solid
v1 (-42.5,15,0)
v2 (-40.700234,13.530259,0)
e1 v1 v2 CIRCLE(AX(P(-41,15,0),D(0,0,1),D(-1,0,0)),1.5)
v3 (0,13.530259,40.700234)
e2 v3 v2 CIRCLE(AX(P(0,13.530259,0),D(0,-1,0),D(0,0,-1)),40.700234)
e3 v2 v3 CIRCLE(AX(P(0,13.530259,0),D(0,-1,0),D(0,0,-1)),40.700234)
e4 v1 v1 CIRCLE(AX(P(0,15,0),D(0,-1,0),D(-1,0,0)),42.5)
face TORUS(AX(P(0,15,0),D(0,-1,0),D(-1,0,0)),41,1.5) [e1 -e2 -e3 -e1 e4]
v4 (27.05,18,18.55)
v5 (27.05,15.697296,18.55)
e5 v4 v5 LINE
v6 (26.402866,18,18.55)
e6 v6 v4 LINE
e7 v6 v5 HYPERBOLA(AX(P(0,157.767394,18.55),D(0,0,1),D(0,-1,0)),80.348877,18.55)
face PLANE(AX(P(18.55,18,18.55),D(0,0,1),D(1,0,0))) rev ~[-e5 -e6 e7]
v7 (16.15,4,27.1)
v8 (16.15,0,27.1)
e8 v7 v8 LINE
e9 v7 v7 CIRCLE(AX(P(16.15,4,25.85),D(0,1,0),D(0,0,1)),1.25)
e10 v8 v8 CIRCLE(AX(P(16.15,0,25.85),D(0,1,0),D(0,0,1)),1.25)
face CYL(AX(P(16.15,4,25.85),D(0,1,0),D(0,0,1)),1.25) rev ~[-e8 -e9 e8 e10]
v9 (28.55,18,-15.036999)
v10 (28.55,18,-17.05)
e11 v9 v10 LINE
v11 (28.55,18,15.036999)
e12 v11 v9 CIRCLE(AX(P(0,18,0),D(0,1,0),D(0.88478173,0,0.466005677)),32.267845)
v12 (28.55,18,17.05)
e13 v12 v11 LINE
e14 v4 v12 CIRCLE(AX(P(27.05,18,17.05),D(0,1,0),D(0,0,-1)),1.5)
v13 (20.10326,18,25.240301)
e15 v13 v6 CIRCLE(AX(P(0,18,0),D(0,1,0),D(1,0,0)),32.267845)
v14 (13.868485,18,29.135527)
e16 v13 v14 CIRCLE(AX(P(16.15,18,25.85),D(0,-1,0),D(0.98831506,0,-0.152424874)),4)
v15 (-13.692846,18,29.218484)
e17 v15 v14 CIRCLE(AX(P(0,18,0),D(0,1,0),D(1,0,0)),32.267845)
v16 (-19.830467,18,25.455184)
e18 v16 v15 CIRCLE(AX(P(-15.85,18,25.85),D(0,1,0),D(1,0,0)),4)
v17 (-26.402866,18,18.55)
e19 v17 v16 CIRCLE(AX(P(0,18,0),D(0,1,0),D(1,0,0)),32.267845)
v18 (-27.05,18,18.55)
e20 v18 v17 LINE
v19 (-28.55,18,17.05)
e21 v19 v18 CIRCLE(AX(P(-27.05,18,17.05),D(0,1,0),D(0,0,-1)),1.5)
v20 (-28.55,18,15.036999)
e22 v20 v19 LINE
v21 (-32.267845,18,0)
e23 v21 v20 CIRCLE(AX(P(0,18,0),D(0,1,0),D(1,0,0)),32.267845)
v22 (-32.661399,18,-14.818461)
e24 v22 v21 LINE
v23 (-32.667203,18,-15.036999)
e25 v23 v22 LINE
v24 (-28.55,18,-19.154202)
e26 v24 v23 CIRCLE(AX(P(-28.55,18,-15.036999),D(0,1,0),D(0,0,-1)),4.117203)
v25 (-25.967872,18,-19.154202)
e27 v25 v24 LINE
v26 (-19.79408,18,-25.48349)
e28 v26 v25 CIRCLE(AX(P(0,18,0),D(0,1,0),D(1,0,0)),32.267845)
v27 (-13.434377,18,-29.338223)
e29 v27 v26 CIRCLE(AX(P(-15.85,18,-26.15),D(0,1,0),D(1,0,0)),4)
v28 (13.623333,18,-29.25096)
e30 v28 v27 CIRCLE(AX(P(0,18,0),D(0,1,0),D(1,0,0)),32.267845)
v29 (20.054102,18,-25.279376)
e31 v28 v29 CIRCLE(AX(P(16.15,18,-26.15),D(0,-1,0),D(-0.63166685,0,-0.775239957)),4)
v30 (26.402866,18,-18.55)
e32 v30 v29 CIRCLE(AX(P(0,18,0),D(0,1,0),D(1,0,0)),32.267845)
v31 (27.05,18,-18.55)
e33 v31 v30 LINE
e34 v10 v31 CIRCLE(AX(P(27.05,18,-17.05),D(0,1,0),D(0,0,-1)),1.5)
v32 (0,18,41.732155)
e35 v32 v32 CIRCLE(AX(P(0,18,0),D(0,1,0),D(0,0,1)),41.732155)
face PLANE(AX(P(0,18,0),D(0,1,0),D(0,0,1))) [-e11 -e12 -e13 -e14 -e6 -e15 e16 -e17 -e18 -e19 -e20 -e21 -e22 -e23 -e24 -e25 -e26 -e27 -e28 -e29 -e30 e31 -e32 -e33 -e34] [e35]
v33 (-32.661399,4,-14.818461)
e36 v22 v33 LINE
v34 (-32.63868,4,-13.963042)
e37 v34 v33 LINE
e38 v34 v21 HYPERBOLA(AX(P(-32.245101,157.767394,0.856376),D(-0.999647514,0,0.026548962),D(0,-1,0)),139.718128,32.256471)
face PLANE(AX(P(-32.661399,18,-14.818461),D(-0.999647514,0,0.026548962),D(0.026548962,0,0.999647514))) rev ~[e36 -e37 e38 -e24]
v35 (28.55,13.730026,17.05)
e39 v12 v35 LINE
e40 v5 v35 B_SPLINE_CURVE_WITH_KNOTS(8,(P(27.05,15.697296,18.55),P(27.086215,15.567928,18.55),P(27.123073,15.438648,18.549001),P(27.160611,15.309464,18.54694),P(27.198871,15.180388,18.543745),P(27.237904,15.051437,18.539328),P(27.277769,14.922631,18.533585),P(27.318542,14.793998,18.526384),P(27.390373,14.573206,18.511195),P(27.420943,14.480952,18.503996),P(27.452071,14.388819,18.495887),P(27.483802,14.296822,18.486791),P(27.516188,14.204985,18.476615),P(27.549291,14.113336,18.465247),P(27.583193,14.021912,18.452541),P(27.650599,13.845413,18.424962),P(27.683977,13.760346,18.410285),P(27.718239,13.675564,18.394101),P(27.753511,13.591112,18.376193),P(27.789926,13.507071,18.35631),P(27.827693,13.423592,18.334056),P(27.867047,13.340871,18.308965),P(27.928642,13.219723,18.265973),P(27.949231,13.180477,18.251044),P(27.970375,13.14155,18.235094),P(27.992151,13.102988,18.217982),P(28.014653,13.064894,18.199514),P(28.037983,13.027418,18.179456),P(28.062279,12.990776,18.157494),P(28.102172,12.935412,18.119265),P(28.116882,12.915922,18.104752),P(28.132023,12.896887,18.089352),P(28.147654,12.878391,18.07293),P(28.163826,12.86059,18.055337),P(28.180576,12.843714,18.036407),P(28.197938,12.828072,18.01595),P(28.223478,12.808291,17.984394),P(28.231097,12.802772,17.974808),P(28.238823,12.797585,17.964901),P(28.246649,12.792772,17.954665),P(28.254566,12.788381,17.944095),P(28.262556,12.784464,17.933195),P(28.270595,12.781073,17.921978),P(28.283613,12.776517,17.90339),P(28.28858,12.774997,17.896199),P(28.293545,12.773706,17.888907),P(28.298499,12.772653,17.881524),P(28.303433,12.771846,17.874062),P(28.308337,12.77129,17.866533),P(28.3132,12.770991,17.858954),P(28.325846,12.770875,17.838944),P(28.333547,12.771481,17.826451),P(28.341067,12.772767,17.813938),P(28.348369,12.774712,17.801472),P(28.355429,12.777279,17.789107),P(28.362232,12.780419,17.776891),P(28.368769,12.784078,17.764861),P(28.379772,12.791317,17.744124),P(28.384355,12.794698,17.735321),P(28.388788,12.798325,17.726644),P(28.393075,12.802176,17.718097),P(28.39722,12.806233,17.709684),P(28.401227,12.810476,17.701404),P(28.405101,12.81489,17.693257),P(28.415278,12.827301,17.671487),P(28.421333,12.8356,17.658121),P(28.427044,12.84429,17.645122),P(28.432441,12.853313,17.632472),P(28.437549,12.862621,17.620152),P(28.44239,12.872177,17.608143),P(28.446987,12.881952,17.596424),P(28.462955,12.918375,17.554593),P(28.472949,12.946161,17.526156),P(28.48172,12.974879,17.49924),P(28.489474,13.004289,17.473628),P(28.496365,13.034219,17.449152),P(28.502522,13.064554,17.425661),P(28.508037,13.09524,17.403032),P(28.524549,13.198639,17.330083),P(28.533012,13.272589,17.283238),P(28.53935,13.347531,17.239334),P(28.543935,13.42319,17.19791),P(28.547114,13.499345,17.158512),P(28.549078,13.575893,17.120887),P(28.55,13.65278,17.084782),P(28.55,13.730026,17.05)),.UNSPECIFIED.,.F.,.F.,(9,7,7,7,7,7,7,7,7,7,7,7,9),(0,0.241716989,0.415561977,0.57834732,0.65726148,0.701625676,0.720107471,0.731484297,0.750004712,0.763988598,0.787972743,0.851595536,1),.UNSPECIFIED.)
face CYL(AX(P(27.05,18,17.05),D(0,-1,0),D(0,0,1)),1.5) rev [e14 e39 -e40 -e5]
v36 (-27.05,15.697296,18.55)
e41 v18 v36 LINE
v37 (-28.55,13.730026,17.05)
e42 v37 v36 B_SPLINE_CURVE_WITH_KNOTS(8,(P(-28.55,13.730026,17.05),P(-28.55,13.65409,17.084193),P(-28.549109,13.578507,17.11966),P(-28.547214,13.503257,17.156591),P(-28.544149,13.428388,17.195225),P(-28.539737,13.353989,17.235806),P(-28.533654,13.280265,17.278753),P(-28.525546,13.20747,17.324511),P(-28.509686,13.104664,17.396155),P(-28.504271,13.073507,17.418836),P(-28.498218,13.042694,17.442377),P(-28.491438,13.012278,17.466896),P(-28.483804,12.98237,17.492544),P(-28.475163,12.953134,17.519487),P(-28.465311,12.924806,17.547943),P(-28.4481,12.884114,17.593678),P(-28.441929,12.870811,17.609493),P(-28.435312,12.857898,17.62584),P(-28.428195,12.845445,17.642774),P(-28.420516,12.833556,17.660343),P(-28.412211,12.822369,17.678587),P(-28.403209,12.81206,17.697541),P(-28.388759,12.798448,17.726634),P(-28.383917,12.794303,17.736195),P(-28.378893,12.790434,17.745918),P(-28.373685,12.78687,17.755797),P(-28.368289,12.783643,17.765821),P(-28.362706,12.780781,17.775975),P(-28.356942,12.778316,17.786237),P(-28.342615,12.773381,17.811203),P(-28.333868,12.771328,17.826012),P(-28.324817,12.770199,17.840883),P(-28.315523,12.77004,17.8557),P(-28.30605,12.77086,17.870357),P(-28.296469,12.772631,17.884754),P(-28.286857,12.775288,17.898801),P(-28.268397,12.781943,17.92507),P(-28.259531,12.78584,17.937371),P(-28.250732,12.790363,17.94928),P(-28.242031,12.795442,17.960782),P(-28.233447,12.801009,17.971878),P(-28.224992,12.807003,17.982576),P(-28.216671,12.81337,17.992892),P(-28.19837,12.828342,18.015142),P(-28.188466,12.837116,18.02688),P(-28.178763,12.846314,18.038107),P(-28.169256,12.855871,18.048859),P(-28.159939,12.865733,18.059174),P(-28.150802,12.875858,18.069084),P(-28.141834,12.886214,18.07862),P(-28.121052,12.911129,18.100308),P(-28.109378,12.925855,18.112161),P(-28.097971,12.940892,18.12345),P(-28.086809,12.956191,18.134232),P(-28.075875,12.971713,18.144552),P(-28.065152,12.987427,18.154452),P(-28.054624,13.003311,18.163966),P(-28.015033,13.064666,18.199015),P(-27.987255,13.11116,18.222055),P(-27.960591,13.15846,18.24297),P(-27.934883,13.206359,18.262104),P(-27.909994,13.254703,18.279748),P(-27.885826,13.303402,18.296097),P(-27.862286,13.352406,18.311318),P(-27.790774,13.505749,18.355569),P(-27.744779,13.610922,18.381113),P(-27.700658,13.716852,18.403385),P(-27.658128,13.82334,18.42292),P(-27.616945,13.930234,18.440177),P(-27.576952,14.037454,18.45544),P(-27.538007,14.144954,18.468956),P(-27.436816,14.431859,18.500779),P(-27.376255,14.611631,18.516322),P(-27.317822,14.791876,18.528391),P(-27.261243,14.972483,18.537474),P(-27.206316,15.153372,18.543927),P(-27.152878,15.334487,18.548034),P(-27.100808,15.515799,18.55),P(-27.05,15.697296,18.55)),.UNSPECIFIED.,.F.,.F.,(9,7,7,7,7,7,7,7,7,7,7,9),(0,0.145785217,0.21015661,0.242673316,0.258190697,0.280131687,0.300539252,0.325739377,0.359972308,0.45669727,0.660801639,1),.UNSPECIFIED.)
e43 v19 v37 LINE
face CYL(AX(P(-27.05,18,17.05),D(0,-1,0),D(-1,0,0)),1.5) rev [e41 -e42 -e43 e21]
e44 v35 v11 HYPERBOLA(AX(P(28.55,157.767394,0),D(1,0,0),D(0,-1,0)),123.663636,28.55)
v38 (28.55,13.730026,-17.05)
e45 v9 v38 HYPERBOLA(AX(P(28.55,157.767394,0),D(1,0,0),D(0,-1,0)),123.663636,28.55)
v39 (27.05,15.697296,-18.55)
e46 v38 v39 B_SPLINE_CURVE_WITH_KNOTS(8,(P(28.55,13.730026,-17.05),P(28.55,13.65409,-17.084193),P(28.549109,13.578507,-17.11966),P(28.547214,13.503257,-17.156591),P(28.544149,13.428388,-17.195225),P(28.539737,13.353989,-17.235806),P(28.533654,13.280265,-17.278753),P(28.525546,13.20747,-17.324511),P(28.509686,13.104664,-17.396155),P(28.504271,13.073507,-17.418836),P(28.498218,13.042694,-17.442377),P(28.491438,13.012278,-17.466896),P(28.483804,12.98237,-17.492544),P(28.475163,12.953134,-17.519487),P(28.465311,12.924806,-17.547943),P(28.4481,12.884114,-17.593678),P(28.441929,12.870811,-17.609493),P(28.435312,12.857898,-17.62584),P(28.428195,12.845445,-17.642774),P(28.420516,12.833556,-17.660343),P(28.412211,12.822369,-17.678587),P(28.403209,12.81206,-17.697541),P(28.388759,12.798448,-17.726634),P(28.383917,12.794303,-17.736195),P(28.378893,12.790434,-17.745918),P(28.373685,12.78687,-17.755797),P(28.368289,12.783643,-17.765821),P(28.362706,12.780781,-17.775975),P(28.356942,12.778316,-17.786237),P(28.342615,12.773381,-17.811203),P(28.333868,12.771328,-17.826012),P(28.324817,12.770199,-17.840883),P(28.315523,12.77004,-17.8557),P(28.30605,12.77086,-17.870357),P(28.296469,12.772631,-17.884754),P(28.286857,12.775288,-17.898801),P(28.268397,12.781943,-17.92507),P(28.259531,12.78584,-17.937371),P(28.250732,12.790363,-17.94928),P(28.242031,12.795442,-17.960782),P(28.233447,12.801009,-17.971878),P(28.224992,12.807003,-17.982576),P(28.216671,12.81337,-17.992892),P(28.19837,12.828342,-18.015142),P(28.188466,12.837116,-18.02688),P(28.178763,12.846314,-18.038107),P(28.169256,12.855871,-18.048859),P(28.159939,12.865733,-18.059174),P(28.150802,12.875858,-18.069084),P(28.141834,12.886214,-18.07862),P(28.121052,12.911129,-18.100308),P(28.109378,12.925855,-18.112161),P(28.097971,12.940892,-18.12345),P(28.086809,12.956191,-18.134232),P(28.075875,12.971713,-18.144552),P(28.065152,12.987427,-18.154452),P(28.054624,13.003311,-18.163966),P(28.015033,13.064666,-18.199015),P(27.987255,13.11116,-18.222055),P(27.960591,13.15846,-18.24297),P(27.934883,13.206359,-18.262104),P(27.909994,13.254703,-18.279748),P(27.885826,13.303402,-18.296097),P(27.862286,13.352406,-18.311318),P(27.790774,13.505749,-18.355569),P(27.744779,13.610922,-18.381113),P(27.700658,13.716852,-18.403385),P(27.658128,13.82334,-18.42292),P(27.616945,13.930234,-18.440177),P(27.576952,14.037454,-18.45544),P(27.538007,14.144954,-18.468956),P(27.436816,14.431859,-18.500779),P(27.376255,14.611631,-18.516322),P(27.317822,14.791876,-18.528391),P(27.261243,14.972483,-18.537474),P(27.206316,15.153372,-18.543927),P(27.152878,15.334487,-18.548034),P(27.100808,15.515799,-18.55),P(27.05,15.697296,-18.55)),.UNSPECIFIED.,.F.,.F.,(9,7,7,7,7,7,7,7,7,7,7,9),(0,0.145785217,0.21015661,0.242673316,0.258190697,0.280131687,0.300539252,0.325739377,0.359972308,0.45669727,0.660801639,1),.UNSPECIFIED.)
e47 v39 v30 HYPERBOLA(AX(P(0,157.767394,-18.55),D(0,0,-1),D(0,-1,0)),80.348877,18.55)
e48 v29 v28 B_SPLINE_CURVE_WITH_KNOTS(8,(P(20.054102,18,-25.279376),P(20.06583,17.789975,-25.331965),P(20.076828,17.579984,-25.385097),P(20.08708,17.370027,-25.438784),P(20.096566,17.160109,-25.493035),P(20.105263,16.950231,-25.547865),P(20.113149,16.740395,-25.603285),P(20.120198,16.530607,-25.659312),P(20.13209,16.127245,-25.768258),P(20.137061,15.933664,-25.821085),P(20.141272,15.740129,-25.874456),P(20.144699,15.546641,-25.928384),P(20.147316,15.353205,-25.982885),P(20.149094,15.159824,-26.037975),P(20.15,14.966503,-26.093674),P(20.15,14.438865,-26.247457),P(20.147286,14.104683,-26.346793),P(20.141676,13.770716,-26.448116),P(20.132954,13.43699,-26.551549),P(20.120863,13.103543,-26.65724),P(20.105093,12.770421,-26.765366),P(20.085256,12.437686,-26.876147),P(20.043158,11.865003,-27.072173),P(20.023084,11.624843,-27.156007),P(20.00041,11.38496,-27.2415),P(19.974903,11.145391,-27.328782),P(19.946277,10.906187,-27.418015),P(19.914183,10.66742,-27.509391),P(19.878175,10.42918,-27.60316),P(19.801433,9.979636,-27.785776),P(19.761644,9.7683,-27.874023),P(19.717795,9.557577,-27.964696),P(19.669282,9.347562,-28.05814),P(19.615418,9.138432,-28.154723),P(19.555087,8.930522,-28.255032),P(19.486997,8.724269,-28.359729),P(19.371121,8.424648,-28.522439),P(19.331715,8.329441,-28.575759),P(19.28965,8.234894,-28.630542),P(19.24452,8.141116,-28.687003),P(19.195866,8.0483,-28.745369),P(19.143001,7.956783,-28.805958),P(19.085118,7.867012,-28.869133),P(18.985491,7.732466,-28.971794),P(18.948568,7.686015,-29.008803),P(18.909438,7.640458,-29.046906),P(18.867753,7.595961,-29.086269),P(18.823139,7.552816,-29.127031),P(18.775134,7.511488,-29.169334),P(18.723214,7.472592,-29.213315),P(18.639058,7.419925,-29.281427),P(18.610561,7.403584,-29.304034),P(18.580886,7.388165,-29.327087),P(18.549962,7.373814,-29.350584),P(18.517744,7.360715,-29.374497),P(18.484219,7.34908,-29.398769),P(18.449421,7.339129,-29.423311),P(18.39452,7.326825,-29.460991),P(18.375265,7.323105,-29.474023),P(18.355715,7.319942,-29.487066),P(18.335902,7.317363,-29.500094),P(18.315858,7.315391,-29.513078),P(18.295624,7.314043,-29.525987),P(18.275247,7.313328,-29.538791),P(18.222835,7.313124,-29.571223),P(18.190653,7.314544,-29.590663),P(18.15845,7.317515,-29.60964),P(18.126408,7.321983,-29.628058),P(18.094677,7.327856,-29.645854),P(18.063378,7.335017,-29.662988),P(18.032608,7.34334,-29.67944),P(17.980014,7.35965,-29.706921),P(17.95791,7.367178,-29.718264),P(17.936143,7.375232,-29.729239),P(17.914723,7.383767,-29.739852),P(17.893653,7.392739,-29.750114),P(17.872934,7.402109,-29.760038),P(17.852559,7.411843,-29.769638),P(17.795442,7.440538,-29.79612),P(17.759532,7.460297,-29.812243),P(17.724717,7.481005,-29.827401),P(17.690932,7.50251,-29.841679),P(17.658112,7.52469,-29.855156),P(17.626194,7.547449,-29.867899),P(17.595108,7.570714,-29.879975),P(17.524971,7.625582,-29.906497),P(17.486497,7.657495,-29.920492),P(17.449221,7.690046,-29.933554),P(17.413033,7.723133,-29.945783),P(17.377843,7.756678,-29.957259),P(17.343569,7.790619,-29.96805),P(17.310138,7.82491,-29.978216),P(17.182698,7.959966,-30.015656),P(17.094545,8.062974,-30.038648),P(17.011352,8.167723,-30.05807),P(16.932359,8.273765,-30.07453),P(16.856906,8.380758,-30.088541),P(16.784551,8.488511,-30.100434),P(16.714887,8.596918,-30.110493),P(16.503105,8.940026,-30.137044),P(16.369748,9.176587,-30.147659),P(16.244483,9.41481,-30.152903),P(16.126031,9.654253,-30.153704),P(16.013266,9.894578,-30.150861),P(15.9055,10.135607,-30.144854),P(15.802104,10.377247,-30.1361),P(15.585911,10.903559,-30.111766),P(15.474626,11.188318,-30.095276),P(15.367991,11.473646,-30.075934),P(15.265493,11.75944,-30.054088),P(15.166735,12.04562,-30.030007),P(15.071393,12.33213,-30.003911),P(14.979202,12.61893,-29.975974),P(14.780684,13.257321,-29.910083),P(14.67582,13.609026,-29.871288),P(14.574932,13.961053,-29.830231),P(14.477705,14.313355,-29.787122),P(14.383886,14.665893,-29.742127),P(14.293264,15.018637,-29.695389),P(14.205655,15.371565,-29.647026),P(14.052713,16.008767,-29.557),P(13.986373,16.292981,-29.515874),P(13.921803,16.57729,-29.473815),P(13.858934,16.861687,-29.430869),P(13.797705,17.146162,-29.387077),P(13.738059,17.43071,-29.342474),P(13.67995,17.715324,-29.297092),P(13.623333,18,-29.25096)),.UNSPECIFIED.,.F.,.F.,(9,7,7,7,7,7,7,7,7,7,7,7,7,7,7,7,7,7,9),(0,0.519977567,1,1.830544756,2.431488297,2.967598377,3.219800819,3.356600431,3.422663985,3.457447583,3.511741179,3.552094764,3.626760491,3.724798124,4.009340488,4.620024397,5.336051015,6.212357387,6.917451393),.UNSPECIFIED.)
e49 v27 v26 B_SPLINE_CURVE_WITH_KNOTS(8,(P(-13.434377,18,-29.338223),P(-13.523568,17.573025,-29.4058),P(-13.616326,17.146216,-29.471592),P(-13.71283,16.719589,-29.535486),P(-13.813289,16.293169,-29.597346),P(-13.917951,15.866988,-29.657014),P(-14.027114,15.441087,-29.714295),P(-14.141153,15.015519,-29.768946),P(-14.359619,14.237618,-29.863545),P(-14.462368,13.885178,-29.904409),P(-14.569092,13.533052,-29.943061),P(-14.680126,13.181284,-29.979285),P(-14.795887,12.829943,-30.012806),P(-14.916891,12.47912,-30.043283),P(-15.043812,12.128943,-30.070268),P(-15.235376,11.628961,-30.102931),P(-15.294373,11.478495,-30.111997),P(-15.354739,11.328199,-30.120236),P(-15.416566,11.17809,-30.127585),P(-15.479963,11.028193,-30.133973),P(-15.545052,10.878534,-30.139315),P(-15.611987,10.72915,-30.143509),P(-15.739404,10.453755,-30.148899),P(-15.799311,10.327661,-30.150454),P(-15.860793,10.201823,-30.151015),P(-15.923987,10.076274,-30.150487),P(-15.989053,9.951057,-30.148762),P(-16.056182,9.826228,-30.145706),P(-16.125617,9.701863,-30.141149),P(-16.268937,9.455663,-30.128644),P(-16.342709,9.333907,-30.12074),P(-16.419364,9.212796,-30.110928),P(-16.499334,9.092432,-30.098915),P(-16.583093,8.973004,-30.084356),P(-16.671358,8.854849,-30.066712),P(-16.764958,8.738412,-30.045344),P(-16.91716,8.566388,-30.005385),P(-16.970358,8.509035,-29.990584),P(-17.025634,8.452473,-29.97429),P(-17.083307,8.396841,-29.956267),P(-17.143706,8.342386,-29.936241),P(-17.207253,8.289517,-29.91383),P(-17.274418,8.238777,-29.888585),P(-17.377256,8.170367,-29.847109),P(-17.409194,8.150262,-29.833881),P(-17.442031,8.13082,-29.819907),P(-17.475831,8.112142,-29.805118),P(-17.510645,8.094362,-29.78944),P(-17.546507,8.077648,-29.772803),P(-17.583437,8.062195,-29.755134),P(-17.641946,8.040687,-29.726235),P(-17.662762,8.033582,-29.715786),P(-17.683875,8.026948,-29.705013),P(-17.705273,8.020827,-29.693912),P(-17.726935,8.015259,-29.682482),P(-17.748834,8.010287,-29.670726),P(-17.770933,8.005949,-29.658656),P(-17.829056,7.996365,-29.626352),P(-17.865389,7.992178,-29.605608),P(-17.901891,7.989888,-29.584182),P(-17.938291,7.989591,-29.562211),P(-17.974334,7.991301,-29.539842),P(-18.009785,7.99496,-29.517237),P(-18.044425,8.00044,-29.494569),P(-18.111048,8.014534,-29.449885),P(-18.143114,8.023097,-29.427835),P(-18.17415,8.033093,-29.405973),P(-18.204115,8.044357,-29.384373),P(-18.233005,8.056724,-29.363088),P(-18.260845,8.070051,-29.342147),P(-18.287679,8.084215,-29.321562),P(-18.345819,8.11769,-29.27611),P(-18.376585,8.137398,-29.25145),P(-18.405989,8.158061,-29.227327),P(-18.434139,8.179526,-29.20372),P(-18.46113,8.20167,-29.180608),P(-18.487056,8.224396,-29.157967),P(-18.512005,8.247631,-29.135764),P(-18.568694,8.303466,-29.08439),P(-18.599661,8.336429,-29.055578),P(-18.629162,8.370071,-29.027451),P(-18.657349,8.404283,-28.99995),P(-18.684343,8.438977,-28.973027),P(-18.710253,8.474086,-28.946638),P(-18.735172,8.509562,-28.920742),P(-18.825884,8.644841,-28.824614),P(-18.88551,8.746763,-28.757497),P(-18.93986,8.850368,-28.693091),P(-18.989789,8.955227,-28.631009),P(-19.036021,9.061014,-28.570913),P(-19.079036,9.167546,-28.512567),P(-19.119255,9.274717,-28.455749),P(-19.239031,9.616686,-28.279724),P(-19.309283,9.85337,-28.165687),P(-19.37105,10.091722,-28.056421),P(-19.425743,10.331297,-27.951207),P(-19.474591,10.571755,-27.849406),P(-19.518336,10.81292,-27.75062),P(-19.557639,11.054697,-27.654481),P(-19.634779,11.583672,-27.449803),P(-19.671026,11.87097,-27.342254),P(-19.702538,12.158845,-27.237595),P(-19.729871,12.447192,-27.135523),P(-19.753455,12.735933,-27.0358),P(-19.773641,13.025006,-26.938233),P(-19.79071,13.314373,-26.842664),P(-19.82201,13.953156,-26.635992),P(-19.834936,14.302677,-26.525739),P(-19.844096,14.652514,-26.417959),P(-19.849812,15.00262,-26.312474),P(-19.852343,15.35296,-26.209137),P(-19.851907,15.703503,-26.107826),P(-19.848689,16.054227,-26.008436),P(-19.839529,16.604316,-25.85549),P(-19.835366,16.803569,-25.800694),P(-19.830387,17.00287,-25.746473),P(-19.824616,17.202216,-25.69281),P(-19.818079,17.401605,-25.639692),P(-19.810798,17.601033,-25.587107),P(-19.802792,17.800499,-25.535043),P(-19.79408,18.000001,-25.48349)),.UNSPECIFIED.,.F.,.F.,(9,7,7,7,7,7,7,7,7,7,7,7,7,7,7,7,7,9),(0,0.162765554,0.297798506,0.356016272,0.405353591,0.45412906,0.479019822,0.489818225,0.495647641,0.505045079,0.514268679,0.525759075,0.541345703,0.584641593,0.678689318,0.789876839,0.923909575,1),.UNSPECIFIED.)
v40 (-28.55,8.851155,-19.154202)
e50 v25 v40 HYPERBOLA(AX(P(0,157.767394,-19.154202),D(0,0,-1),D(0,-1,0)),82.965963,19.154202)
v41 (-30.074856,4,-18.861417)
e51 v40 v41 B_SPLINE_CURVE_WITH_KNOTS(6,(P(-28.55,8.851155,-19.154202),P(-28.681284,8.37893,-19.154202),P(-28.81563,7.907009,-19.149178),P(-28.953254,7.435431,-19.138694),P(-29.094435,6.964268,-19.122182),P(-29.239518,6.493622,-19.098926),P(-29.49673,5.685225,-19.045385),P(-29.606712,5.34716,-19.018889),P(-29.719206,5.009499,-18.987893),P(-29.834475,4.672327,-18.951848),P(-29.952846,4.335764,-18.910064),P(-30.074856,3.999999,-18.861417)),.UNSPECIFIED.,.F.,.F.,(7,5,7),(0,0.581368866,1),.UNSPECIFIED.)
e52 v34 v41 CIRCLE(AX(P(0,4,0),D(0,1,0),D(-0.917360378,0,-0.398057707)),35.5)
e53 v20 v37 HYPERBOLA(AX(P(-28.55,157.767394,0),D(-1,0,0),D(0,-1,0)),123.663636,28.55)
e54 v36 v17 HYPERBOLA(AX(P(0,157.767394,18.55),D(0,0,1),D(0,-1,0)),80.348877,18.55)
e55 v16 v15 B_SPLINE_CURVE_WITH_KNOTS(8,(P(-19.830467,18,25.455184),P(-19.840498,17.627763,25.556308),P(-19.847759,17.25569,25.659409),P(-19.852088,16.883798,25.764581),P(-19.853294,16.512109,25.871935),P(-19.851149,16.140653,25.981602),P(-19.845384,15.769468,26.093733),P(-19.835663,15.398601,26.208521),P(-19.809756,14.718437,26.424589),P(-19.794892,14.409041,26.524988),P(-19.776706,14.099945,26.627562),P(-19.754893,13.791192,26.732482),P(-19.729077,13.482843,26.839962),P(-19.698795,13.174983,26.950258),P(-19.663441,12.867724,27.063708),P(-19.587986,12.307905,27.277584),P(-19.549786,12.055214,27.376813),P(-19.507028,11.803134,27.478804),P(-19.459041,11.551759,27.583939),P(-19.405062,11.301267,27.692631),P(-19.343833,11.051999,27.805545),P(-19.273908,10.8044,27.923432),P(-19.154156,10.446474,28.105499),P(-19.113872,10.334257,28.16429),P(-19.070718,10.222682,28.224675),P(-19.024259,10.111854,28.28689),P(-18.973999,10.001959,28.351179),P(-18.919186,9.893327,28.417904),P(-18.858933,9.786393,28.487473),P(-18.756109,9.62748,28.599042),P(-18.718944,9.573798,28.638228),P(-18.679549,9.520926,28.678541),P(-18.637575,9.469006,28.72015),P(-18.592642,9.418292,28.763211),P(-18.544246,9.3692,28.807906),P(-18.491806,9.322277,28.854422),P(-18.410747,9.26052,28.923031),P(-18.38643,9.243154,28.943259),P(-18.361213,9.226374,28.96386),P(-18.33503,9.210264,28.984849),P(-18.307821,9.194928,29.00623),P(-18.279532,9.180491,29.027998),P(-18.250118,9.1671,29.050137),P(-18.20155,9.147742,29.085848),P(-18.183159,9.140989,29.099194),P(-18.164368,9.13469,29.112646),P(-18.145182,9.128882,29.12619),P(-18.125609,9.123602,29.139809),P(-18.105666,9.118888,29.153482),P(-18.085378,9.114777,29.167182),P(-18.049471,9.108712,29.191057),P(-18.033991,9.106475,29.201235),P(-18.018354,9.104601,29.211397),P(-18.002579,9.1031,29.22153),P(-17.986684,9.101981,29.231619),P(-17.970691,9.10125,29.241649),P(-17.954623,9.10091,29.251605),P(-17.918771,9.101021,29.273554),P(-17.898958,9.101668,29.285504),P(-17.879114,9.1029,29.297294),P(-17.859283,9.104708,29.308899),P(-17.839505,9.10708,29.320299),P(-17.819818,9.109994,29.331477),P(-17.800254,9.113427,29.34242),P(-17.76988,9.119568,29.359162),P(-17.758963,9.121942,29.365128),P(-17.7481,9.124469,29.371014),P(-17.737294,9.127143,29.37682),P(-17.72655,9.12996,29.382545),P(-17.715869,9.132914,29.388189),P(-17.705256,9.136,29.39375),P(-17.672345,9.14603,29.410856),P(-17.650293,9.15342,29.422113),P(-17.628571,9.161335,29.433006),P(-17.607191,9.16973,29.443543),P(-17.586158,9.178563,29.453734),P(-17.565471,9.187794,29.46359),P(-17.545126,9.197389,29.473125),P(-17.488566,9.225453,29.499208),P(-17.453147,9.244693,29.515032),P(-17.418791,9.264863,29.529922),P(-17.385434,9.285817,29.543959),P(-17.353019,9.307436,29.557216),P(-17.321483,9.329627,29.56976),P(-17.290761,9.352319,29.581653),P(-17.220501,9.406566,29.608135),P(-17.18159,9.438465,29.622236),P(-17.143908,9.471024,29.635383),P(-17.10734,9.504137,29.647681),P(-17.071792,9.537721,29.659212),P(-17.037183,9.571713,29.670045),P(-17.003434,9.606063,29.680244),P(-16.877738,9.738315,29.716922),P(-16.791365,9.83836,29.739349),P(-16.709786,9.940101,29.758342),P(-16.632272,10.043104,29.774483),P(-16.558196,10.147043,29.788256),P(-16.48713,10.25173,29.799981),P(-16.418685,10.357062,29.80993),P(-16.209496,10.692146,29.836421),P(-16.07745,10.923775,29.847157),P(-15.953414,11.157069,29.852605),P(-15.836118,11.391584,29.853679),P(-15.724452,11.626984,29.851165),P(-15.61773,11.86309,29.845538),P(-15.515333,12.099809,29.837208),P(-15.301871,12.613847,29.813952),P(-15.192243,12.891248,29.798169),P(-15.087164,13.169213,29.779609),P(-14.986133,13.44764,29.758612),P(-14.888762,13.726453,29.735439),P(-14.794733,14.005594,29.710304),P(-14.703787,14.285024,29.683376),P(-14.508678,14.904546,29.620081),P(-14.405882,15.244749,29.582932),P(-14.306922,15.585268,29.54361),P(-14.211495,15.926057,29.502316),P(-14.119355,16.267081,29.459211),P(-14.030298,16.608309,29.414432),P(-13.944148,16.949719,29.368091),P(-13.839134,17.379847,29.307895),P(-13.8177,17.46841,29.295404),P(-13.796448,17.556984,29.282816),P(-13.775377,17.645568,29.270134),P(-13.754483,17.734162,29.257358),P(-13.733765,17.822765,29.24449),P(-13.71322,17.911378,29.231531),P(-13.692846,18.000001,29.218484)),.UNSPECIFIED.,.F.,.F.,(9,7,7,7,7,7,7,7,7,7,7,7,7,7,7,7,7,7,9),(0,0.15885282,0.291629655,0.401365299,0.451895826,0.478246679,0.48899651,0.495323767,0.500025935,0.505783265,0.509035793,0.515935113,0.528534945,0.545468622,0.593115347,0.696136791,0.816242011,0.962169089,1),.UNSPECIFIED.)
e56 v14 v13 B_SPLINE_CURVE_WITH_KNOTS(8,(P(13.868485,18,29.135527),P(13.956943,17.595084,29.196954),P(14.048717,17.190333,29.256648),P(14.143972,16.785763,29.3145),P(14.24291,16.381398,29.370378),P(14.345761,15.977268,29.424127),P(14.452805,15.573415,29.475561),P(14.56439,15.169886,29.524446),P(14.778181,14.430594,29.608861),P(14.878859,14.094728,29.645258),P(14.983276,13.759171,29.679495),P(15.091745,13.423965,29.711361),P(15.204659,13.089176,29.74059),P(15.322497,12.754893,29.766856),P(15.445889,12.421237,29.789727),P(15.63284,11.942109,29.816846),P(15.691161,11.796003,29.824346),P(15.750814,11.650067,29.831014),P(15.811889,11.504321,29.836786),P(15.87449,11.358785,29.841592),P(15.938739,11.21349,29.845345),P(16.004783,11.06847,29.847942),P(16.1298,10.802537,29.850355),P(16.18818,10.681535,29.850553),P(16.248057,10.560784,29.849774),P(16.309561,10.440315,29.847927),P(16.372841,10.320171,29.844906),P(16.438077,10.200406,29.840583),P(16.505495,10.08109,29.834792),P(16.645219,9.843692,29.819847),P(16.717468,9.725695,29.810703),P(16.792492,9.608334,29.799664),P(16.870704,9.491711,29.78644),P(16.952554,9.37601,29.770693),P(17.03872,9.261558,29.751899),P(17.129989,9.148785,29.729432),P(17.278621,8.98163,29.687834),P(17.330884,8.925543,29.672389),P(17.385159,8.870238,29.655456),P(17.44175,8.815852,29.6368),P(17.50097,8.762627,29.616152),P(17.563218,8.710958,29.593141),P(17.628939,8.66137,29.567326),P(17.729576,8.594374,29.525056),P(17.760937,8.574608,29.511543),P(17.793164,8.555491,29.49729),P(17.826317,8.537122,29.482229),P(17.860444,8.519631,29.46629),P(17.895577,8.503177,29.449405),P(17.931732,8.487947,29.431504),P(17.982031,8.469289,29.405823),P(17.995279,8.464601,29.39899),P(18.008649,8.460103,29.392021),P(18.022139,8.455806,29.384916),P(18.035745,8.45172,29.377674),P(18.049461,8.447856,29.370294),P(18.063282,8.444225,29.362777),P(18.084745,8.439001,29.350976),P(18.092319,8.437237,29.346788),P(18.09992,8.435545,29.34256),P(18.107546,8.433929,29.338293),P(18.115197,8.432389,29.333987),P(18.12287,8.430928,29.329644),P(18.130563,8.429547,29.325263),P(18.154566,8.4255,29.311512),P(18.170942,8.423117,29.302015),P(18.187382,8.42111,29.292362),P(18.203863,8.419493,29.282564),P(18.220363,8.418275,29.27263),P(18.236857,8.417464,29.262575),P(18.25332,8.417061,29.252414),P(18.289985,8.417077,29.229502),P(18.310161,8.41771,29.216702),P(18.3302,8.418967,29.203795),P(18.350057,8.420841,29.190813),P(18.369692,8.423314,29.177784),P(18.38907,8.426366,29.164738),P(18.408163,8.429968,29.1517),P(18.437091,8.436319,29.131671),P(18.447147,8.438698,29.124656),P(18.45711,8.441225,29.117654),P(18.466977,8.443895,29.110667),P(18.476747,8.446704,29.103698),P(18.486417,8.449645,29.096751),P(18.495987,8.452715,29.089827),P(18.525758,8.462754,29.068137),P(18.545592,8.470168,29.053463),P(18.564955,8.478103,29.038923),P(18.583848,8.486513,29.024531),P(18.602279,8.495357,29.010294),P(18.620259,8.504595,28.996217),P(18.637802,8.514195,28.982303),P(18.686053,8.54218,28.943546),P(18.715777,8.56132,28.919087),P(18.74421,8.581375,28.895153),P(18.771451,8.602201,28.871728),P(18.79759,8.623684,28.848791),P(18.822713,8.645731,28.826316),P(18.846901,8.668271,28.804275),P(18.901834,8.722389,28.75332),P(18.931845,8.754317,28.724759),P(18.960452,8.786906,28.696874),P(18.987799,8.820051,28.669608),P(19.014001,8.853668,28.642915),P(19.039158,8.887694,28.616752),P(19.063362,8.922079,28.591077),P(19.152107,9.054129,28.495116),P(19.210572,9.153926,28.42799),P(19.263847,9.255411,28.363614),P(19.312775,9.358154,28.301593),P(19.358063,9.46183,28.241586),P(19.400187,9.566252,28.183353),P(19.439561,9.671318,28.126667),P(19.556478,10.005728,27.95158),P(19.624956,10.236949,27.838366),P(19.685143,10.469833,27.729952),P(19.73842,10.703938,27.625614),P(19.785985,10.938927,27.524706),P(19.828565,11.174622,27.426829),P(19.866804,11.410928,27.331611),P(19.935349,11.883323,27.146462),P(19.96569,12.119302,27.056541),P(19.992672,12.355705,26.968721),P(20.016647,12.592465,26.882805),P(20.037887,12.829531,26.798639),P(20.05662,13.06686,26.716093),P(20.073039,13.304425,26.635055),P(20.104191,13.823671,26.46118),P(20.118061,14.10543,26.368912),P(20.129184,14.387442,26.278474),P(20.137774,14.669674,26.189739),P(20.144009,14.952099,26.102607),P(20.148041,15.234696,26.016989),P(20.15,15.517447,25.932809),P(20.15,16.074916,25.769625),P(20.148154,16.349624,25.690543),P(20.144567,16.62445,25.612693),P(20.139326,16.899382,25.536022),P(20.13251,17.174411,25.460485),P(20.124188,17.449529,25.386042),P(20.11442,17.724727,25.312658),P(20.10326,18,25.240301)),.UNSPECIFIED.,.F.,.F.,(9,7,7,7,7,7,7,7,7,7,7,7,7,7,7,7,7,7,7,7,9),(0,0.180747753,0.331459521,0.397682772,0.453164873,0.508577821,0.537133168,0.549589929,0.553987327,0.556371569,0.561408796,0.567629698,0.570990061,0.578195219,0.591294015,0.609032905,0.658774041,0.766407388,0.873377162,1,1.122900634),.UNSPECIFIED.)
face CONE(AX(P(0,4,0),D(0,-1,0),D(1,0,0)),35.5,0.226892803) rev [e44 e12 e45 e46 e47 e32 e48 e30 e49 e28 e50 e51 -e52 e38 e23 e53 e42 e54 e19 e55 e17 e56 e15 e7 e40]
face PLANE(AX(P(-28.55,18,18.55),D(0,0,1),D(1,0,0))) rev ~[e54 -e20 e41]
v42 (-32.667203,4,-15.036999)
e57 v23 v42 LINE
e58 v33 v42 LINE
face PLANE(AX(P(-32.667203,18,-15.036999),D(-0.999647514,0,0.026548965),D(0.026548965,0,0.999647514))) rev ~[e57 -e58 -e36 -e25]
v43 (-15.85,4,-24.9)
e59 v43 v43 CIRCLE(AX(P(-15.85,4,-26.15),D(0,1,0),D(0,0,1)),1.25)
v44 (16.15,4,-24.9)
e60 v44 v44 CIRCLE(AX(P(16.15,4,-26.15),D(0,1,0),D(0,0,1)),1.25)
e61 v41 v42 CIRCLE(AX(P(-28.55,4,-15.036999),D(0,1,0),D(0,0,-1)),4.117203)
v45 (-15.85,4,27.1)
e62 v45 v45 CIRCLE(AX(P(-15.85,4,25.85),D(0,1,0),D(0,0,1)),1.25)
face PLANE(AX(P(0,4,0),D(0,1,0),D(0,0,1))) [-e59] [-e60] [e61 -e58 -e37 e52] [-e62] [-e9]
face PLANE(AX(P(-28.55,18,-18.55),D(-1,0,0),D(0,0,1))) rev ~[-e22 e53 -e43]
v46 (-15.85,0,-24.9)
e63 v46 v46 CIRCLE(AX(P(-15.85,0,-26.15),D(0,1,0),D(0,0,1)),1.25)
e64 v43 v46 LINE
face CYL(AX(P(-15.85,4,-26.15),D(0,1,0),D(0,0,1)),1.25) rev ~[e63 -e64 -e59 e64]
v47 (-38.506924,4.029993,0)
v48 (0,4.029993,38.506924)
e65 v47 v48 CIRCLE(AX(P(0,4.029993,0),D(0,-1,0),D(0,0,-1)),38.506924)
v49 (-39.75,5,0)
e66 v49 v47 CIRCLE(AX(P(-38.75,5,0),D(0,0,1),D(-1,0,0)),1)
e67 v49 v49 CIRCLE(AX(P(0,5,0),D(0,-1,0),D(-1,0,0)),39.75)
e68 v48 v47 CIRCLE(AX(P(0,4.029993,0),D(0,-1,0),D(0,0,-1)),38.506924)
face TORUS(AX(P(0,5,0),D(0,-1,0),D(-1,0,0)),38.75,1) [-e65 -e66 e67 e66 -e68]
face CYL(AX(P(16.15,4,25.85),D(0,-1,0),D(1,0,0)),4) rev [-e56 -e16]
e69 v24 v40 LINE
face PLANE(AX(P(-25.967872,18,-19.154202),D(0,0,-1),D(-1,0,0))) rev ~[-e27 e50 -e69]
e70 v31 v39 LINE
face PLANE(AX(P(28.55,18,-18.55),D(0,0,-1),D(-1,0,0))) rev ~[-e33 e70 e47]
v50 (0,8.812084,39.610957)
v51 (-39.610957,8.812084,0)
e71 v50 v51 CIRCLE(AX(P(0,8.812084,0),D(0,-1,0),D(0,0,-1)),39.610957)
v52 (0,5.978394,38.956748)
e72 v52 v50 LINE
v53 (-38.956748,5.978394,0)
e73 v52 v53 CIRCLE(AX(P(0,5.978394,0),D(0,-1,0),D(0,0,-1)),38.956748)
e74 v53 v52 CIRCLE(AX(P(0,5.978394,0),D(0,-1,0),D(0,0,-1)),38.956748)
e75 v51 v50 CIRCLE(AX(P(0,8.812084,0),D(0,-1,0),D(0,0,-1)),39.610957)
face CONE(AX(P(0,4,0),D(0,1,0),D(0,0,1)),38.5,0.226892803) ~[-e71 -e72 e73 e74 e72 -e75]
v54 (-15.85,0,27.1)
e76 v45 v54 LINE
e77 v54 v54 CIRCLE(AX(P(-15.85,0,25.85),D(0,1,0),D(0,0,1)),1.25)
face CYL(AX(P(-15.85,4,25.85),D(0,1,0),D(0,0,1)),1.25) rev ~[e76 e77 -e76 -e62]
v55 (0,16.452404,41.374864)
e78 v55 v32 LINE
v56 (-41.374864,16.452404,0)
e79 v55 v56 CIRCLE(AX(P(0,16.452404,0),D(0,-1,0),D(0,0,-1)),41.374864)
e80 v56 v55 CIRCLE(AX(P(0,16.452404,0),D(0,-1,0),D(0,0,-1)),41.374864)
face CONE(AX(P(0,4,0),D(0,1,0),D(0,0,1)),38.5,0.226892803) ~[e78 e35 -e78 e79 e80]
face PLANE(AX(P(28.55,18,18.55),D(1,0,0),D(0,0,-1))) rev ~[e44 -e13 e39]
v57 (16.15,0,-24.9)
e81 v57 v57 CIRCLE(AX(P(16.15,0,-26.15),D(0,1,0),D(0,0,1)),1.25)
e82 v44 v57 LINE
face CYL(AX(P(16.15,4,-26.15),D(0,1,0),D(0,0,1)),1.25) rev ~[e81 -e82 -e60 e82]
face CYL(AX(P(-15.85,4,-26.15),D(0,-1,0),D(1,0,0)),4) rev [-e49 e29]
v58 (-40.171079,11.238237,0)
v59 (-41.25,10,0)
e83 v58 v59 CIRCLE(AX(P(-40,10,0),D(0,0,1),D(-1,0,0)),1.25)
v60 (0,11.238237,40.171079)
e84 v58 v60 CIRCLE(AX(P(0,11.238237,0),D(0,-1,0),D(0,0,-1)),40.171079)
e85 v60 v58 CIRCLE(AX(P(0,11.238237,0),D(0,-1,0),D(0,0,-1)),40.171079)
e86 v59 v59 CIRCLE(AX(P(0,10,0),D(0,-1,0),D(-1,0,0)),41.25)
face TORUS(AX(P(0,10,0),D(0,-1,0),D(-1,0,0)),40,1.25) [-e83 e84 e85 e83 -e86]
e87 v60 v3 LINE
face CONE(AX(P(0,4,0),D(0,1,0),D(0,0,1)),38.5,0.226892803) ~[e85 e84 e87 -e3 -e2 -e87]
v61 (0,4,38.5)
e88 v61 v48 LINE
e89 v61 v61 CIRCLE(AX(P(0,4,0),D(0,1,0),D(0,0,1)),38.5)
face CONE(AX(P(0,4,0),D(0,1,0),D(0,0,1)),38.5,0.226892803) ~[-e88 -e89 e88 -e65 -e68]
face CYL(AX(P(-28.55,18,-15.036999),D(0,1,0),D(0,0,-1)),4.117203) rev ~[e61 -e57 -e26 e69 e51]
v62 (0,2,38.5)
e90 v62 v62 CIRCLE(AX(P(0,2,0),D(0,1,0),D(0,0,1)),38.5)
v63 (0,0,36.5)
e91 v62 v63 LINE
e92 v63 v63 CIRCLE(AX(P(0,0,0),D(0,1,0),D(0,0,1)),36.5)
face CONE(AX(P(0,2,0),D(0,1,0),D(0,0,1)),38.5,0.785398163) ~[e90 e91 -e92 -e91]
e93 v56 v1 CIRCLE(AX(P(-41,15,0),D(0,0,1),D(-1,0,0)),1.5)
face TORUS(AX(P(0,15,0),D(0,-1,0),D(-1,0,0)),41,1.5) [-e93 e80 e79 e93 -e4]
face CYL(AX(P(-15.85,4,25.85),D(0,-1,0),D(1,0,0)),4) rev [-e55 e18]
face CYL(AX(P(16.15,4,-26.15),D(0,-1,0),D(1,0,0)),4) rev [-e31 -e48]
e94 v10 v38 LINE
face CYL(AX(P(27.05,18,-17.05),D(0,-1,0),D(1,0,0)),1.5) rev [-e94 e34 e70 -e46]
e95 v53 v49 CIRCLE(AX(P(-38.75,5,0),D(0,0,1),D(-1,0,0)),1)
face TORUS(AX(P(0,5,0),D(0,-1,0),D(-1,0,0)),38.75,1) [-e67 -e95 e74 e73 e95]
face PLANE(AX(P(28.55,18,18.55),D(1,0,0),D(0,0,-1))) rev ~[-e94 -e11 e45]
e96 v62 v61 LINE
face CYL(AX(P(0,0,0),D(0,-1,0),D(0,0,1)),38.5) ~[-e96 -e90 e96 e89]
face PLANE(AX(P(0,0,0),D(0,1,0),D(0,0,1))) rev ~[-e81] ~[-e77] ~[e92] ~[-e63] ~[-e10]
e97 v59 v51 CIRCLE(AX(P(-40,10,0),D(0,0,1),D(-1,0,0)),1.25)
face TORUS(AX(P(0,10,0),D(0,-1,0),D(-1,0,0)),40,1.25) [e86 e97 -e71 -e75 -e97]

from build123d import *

# Parameters (mm, degrees)
SKETCH1_R           = 38.5
BOSS_EXTRUDE1_DEPTH = 4
SKETCH2_R           = 38.5
SKETCH2_R_2         = 35.5
BOSS_EXTRUDE2_DEPTH = 14
BOSS_EXTRUDE2_DRAFT = -13
CUT_EXTRUDE1_REACH  = 63.702
FILLET2_R           = 1.5
SKETCH7_R           = 1.25
CUT_EXTRUDE4_DEPTH  = 4
SKETCH8_R           = 4
CUT_EXTRUDE5_DEPTH  = 14
SKETCH10_R          = 1.25
SKETCH13_R          = 1.5
SKETCH14_R          = 1
CHAMFER1_SIZE       = 2
CUT_EXTRUDE7_REACH  = 64.742


with BuildPart() as part:
    # Sketch1 → Boss-Extrude1 (new body)
    with BuildSketch(Plane(origin=(0, 0, 0), x_dir=(1, 0, 0), z_dir=(0, 1, 0))):
        with Locations(Location((0, 0, 0), (0, 0, 270))):
            Circle(SKETCH1_R)
    extrude(amount=BOSS_EXTRUDE1_DEPTH)


with BuildPart() as boss_extrude2_tool:
    # Sketch2 → Boss-Extrude2 (with draft: the straight prism first)
    with BuildSketch(Plane(origin=(0, 4, 0), x_dir=(1, 0, 0), z_dir=(0, 1, 0))):
        with Locations(Location((0, 0, 0), (0, 0, 270))):
            Circle(SKETCH2_R)
        Circle(SKETCH2_R_2, mode=Mode.SUBTRACT)
    extrude(amount=BOSS_EXTRUDE2_DEPTH)
    # Boss-Extrude2: the draft: its side faces are tilted about the plane it starts from
    boss_extrude2_sides = [boss_extrude2_tool.faces().sort_by_distance(p)[0] for p in [
        (0, 11, -38.5),
        (-35.5, 11, 0),
    ]]
    draft(boss_extrude2_sides, Plane(origin=(0, 4, 0), x_dir=(1, 0, 0), z_dir=(0, 1, 0)), BOSS_EXTRUDE2_DRAFT)


with BuildPart() as part_1:
    add(part.part)

    # Boss-Extrude2: add boss_extrude2_tool
    add(boss_extrude2_tool.part)

    # Cut-Extrude1: up to this face of the body (flat: up to its plane)
    cut_extrude1_end = Plane(part_1.part.faces().sort_by_distance((0, 4, 0))[0])
    # Sketch3 → Cut-Extrude1 (cut, up to the picked face)
    with BuildSketch(Plane(origin=(0, 18, 0), x_dir=(1, 0, 0), z_dir=(0, 1, 0)), mode=Mode.PRIVATE) as cut_extrude1_sk1:
        Polygon((18.55, -28.55), (18.55, -18.55), (28.55, -18.55), (28.55, 18.55), (18.55, 18.55), (18.55, 28.55), (-18.55, 28.55), (-18.55, 18.55), (-28.55, 18.55), (-28.55, -18.55), (-18.55, -18.55), (-18.55, -28.55), align=None)
    cut_extrude1_tool1 = split(extrude(cut_extrude1_sk1.sketch, amount=-CUT_EXTRUDE1_REACH, mode=Mode.PRIVATE), bisect_by=cut_extrude1_end, keep=Keep.BOTH, mode=Mode.PRIVATE)
    add(cut_extrude1_tool1.solids().sort_by(Axis((0, 18, 0), (0, -1, 0)))[0], mode=Mode.SUBTRACT)

    # Fillet2
    fillet2_edges = [part_1.edges().sort_by_distance(p)[0] for p in [
        (-28.55, 14.146601234, 18.55),
        (-28.55, 14.146601234, -18.55),
        (28.55, 14.146601234, -18.55),
        (28.55, 14.146601234, 18.55),
    ]]
    fillet(fillet2_edges, radius=FILLET2_R)

    # Sketch7 → Cut-Extrude4 (cut)
    with BuildSketch(Plane(origin=(0, 4, 0), x_dir=(1, 0, 0), z_dir=(0, 1, 0))):
        with Locations(Location((16.15, 26.15, 0), (0, 0, 270))):
            Circle(SKETCH7_R)
        with Locations(Location((16.15, -25.85, 0), (0, 0, 270))):
            Circle(SKETCH7_R)
        with Locations(Location((-15.85, -25.85, 0), (0, 0, 270))):
            Circle(SKETCH7_R)
        with Locations(Location((-15.85, 26.15, 0), (0, 0, 270))):
            Circle(SKETCH7_R)
    extrude(amount=-CUT_EXTRUDE4_DEPTH, mode=Mode.SUBTRACT)

    # Sketch8 → Cut-Extrude5 (cut)
    with BuildSketch(Plane(origin=(0, 4, 0), x_dir=(1, 0, 0), z_dir=(0, 1, 0))):
        with Locations((-15.85, -25.85)):
            Circle(SKETCH8_R)
        with Locations((-15.85, 26.15)):
            Circle(SKETCH8_R)
        with Locations((16.15, -25.85)):
            Circle(SKETCH8_R)
        with Locations((16.15, 26.15)):
            Circle(SKETCH8_R)
    extrude(amount=CUT_EXTRUDE5_DEPTH, mode=Mode.SUBTRACT)

    # Sweep1: sweep along a path in Sketch9
    with BuildLine(Plane(origin=(0, 10, 0), x_dir=(-1, 0, 0), z_dir=(0, -1, 0))) as sweep1_path:
        CenterArc((0, 0), 40, 0, 360)
    # Sketch10 → Sweep1 (sweep)
    with BuildSketch(Plane(origin=(0, 0, 0), x_dir=(0, 0, -1), z_dir=(1, 0, 0))):
        with Locations((40, 10)):
            Circle(SKETCH10_R)
    sweep(path=sweep1_path.line)

    # Sweep2: sweep along a path in Sketch11
    with BuildLine(Plane(origin=(0, 15, 0), x_dir=(-1, 0, 0), z_dir=(0, -1, 0))) as sweep2_path:
        CenterArc((0, 0), 41, 0, 360)
    # Sketch13 → Sweep2 (sweep)
    with BuildSketch(Plane(origin=(0, 0, 0), x_dir=(0, 0, -1), z_dir=(1, 0, 0))):
        with Locations((41, 15)):
            Circle(SKETCH13_R)
    sweep(path=sweep2_path.line)

    # Sweep3: sweep along a path in Sketch12
    with BuildLine(Plane(origin=(0, 5, 0), x_dir=(-1, 0, 0), z_dir=(0, -1, 0))) as sweep3_path:
        CenterArc((0, 0), 38.75, 0, 360)
    # Sketch14 → Sweep3 (sweep)
    with BuildSketch(Plane(origin=(0, 0, 0), x_dir=(0, 0, -1), z_dir=(1, 0, 0))):
        with Locations((38.75, 5)):
            Circle(SKETCH14_R)
    sweep(path=sweep3_path.line)

    # Chamfer1
    chamfer1_edges = [part_1.edges().sort_by_distance(p)[0] for p in [
        (0, 0, -38.5),
    ]]
    chamfer(chamfer1_edges, length=CHAMFER1_SIZE)

    # Cut-Extrude7: up to this face of the body (flat: up to its plane)
    cut_extrude7_end = Plane(part_1.part.faces().sort_by_distance((-0.000747608, 4, 0.000747608))[0])
    # Sketch15 → Cut-Extrude7 (cut, up to the picked face)
    with BuildSketch(Plane(origin=(0, 18, 0), x_dir=(1, 0, 0), z_dir=(0, 1, 0)), mode=Mode.PRIVATE) as cut_extrude7_sk1:
        with BuildLine():
            ThreePointArc((-28.55, 19.154201914), (-31.461302031, 17.948301129), (-32.667202817, 15.036999098))
            Line((-32.667202817, 15.036999098), (-32.661398817, 14.818461231))
            ThreePointArc((-32.661398817, 14.818461231), (-31.944617845, 12.707207537), (-30.232328928, 11.279190107))
            ThreePointArc((-30.232328928, 11.279190107), (-29.45116009, 13.184953971), (-28.55, 15.036999098))
            Line((-28.55, 15.036999098), (-28.55, 17.05))
            ThreePointArc((-28.55, 17.05), (-28.110660172, 18.110660172), (-27.05, 18.55))
            Line((-27.05, 18.55), (-26.402866168, 18.55))
            ThreePointArc((-26.402866168, 18.55), (-27.43473729, 19.000274022), (-28.55, 19.154201914))
        make_face()
    cut_extrude7_tool1 = split(extrude(cut_extrude7_sk1.sketch, amount=-CUT_EXTRUDE7_REACH, mode=Mode.PRIVATE), bisect_by=cut_extrude7_end, keep=Keep.BOTH, mode=Mode.PRIVATE)
    # Sketch15 → Cut-Extrude7 (cut, up to the picked face)
    with BuildSketch(Plane(origin=(0, 18, 0), x_dir=(1, 0, 0), z_dir=(0, 1, 0)), mode=Mode.PRIVATE) as cut_extrude7_sk2:
        with BuildLine():
            ThreePointArc((-30.232328928, 11.279190107), (-31.944617845, 12.707207537), (-32.661398817, 14.818461231))
            Line((-32.661398817, 14.818461231), (-32.267845324, 0))
            ThreePointArc((-32.267845324, 0), (-31.754889037, 5.730694907), (-30.232328928, 11.279190107))
        make_face()
    cut_extrude7_tool2 = split(extrude(cut_extrude7_sk2.sketch, amount=-CUT_EXTRUDE7_REACH, mode=Mode.PRIVATE), bisect_by=cut_extrude7_end, keep=Keep.BOTH, mode=Mode.PRIVATE)
    # Sketch15 → Cut-Extrude7 (cut, up to the picked face)
    with BuildSketch(Plane(origin=(0, 18, 0), x_dir=(1, 0, 0), z_dir=(0, 1, 0)), mode=Mode.PRIVATE) as cut_extrude7_sk3:
        with BuildLine():
            Line((-25.967872283, 19.154201914), (-28.55, 19.154201914))
            ThreePointArc((-28.55, 19.154201914), (-27.43473729, 19.000274022), (-26.402866168, 18.55))
            ThreePointArc((-26.402866168, 18.55), (-26.187111839, 18.853355548), (-25.967872283, 19.154201914))
        make_face()
    cut_extrude7_tool3 = split(extrude(cut_extrude7_sk3.sketch, amount=-CUT_EXTRUDE7_REACH, mode=Mode.PRIVATE), bisect_by=cut_extrude7_end, keep=Keep.BOTH, mode=Mode.PRIVATE)
    add(cut_extrude7_tool1.solids().sort_by(Axis((-30.343059, 18, -15.64249), (0, -1, 0)))[0], mode=Mode.SUBTRACT)
    add(cut_extrude7_tool2.solids().sort_by(Axis((-31.82225, 18, -9.084496), (0, -1, 0)))[0], mode=Mode.SUBTRACT)
    add(cut_extrude7_tool3.solids().sort_by(Axis((-26.771736, 18, -18.970288), (0, -1, 0)))[0], mode=Mode.SUBTRACT)


solid = part_1.part
